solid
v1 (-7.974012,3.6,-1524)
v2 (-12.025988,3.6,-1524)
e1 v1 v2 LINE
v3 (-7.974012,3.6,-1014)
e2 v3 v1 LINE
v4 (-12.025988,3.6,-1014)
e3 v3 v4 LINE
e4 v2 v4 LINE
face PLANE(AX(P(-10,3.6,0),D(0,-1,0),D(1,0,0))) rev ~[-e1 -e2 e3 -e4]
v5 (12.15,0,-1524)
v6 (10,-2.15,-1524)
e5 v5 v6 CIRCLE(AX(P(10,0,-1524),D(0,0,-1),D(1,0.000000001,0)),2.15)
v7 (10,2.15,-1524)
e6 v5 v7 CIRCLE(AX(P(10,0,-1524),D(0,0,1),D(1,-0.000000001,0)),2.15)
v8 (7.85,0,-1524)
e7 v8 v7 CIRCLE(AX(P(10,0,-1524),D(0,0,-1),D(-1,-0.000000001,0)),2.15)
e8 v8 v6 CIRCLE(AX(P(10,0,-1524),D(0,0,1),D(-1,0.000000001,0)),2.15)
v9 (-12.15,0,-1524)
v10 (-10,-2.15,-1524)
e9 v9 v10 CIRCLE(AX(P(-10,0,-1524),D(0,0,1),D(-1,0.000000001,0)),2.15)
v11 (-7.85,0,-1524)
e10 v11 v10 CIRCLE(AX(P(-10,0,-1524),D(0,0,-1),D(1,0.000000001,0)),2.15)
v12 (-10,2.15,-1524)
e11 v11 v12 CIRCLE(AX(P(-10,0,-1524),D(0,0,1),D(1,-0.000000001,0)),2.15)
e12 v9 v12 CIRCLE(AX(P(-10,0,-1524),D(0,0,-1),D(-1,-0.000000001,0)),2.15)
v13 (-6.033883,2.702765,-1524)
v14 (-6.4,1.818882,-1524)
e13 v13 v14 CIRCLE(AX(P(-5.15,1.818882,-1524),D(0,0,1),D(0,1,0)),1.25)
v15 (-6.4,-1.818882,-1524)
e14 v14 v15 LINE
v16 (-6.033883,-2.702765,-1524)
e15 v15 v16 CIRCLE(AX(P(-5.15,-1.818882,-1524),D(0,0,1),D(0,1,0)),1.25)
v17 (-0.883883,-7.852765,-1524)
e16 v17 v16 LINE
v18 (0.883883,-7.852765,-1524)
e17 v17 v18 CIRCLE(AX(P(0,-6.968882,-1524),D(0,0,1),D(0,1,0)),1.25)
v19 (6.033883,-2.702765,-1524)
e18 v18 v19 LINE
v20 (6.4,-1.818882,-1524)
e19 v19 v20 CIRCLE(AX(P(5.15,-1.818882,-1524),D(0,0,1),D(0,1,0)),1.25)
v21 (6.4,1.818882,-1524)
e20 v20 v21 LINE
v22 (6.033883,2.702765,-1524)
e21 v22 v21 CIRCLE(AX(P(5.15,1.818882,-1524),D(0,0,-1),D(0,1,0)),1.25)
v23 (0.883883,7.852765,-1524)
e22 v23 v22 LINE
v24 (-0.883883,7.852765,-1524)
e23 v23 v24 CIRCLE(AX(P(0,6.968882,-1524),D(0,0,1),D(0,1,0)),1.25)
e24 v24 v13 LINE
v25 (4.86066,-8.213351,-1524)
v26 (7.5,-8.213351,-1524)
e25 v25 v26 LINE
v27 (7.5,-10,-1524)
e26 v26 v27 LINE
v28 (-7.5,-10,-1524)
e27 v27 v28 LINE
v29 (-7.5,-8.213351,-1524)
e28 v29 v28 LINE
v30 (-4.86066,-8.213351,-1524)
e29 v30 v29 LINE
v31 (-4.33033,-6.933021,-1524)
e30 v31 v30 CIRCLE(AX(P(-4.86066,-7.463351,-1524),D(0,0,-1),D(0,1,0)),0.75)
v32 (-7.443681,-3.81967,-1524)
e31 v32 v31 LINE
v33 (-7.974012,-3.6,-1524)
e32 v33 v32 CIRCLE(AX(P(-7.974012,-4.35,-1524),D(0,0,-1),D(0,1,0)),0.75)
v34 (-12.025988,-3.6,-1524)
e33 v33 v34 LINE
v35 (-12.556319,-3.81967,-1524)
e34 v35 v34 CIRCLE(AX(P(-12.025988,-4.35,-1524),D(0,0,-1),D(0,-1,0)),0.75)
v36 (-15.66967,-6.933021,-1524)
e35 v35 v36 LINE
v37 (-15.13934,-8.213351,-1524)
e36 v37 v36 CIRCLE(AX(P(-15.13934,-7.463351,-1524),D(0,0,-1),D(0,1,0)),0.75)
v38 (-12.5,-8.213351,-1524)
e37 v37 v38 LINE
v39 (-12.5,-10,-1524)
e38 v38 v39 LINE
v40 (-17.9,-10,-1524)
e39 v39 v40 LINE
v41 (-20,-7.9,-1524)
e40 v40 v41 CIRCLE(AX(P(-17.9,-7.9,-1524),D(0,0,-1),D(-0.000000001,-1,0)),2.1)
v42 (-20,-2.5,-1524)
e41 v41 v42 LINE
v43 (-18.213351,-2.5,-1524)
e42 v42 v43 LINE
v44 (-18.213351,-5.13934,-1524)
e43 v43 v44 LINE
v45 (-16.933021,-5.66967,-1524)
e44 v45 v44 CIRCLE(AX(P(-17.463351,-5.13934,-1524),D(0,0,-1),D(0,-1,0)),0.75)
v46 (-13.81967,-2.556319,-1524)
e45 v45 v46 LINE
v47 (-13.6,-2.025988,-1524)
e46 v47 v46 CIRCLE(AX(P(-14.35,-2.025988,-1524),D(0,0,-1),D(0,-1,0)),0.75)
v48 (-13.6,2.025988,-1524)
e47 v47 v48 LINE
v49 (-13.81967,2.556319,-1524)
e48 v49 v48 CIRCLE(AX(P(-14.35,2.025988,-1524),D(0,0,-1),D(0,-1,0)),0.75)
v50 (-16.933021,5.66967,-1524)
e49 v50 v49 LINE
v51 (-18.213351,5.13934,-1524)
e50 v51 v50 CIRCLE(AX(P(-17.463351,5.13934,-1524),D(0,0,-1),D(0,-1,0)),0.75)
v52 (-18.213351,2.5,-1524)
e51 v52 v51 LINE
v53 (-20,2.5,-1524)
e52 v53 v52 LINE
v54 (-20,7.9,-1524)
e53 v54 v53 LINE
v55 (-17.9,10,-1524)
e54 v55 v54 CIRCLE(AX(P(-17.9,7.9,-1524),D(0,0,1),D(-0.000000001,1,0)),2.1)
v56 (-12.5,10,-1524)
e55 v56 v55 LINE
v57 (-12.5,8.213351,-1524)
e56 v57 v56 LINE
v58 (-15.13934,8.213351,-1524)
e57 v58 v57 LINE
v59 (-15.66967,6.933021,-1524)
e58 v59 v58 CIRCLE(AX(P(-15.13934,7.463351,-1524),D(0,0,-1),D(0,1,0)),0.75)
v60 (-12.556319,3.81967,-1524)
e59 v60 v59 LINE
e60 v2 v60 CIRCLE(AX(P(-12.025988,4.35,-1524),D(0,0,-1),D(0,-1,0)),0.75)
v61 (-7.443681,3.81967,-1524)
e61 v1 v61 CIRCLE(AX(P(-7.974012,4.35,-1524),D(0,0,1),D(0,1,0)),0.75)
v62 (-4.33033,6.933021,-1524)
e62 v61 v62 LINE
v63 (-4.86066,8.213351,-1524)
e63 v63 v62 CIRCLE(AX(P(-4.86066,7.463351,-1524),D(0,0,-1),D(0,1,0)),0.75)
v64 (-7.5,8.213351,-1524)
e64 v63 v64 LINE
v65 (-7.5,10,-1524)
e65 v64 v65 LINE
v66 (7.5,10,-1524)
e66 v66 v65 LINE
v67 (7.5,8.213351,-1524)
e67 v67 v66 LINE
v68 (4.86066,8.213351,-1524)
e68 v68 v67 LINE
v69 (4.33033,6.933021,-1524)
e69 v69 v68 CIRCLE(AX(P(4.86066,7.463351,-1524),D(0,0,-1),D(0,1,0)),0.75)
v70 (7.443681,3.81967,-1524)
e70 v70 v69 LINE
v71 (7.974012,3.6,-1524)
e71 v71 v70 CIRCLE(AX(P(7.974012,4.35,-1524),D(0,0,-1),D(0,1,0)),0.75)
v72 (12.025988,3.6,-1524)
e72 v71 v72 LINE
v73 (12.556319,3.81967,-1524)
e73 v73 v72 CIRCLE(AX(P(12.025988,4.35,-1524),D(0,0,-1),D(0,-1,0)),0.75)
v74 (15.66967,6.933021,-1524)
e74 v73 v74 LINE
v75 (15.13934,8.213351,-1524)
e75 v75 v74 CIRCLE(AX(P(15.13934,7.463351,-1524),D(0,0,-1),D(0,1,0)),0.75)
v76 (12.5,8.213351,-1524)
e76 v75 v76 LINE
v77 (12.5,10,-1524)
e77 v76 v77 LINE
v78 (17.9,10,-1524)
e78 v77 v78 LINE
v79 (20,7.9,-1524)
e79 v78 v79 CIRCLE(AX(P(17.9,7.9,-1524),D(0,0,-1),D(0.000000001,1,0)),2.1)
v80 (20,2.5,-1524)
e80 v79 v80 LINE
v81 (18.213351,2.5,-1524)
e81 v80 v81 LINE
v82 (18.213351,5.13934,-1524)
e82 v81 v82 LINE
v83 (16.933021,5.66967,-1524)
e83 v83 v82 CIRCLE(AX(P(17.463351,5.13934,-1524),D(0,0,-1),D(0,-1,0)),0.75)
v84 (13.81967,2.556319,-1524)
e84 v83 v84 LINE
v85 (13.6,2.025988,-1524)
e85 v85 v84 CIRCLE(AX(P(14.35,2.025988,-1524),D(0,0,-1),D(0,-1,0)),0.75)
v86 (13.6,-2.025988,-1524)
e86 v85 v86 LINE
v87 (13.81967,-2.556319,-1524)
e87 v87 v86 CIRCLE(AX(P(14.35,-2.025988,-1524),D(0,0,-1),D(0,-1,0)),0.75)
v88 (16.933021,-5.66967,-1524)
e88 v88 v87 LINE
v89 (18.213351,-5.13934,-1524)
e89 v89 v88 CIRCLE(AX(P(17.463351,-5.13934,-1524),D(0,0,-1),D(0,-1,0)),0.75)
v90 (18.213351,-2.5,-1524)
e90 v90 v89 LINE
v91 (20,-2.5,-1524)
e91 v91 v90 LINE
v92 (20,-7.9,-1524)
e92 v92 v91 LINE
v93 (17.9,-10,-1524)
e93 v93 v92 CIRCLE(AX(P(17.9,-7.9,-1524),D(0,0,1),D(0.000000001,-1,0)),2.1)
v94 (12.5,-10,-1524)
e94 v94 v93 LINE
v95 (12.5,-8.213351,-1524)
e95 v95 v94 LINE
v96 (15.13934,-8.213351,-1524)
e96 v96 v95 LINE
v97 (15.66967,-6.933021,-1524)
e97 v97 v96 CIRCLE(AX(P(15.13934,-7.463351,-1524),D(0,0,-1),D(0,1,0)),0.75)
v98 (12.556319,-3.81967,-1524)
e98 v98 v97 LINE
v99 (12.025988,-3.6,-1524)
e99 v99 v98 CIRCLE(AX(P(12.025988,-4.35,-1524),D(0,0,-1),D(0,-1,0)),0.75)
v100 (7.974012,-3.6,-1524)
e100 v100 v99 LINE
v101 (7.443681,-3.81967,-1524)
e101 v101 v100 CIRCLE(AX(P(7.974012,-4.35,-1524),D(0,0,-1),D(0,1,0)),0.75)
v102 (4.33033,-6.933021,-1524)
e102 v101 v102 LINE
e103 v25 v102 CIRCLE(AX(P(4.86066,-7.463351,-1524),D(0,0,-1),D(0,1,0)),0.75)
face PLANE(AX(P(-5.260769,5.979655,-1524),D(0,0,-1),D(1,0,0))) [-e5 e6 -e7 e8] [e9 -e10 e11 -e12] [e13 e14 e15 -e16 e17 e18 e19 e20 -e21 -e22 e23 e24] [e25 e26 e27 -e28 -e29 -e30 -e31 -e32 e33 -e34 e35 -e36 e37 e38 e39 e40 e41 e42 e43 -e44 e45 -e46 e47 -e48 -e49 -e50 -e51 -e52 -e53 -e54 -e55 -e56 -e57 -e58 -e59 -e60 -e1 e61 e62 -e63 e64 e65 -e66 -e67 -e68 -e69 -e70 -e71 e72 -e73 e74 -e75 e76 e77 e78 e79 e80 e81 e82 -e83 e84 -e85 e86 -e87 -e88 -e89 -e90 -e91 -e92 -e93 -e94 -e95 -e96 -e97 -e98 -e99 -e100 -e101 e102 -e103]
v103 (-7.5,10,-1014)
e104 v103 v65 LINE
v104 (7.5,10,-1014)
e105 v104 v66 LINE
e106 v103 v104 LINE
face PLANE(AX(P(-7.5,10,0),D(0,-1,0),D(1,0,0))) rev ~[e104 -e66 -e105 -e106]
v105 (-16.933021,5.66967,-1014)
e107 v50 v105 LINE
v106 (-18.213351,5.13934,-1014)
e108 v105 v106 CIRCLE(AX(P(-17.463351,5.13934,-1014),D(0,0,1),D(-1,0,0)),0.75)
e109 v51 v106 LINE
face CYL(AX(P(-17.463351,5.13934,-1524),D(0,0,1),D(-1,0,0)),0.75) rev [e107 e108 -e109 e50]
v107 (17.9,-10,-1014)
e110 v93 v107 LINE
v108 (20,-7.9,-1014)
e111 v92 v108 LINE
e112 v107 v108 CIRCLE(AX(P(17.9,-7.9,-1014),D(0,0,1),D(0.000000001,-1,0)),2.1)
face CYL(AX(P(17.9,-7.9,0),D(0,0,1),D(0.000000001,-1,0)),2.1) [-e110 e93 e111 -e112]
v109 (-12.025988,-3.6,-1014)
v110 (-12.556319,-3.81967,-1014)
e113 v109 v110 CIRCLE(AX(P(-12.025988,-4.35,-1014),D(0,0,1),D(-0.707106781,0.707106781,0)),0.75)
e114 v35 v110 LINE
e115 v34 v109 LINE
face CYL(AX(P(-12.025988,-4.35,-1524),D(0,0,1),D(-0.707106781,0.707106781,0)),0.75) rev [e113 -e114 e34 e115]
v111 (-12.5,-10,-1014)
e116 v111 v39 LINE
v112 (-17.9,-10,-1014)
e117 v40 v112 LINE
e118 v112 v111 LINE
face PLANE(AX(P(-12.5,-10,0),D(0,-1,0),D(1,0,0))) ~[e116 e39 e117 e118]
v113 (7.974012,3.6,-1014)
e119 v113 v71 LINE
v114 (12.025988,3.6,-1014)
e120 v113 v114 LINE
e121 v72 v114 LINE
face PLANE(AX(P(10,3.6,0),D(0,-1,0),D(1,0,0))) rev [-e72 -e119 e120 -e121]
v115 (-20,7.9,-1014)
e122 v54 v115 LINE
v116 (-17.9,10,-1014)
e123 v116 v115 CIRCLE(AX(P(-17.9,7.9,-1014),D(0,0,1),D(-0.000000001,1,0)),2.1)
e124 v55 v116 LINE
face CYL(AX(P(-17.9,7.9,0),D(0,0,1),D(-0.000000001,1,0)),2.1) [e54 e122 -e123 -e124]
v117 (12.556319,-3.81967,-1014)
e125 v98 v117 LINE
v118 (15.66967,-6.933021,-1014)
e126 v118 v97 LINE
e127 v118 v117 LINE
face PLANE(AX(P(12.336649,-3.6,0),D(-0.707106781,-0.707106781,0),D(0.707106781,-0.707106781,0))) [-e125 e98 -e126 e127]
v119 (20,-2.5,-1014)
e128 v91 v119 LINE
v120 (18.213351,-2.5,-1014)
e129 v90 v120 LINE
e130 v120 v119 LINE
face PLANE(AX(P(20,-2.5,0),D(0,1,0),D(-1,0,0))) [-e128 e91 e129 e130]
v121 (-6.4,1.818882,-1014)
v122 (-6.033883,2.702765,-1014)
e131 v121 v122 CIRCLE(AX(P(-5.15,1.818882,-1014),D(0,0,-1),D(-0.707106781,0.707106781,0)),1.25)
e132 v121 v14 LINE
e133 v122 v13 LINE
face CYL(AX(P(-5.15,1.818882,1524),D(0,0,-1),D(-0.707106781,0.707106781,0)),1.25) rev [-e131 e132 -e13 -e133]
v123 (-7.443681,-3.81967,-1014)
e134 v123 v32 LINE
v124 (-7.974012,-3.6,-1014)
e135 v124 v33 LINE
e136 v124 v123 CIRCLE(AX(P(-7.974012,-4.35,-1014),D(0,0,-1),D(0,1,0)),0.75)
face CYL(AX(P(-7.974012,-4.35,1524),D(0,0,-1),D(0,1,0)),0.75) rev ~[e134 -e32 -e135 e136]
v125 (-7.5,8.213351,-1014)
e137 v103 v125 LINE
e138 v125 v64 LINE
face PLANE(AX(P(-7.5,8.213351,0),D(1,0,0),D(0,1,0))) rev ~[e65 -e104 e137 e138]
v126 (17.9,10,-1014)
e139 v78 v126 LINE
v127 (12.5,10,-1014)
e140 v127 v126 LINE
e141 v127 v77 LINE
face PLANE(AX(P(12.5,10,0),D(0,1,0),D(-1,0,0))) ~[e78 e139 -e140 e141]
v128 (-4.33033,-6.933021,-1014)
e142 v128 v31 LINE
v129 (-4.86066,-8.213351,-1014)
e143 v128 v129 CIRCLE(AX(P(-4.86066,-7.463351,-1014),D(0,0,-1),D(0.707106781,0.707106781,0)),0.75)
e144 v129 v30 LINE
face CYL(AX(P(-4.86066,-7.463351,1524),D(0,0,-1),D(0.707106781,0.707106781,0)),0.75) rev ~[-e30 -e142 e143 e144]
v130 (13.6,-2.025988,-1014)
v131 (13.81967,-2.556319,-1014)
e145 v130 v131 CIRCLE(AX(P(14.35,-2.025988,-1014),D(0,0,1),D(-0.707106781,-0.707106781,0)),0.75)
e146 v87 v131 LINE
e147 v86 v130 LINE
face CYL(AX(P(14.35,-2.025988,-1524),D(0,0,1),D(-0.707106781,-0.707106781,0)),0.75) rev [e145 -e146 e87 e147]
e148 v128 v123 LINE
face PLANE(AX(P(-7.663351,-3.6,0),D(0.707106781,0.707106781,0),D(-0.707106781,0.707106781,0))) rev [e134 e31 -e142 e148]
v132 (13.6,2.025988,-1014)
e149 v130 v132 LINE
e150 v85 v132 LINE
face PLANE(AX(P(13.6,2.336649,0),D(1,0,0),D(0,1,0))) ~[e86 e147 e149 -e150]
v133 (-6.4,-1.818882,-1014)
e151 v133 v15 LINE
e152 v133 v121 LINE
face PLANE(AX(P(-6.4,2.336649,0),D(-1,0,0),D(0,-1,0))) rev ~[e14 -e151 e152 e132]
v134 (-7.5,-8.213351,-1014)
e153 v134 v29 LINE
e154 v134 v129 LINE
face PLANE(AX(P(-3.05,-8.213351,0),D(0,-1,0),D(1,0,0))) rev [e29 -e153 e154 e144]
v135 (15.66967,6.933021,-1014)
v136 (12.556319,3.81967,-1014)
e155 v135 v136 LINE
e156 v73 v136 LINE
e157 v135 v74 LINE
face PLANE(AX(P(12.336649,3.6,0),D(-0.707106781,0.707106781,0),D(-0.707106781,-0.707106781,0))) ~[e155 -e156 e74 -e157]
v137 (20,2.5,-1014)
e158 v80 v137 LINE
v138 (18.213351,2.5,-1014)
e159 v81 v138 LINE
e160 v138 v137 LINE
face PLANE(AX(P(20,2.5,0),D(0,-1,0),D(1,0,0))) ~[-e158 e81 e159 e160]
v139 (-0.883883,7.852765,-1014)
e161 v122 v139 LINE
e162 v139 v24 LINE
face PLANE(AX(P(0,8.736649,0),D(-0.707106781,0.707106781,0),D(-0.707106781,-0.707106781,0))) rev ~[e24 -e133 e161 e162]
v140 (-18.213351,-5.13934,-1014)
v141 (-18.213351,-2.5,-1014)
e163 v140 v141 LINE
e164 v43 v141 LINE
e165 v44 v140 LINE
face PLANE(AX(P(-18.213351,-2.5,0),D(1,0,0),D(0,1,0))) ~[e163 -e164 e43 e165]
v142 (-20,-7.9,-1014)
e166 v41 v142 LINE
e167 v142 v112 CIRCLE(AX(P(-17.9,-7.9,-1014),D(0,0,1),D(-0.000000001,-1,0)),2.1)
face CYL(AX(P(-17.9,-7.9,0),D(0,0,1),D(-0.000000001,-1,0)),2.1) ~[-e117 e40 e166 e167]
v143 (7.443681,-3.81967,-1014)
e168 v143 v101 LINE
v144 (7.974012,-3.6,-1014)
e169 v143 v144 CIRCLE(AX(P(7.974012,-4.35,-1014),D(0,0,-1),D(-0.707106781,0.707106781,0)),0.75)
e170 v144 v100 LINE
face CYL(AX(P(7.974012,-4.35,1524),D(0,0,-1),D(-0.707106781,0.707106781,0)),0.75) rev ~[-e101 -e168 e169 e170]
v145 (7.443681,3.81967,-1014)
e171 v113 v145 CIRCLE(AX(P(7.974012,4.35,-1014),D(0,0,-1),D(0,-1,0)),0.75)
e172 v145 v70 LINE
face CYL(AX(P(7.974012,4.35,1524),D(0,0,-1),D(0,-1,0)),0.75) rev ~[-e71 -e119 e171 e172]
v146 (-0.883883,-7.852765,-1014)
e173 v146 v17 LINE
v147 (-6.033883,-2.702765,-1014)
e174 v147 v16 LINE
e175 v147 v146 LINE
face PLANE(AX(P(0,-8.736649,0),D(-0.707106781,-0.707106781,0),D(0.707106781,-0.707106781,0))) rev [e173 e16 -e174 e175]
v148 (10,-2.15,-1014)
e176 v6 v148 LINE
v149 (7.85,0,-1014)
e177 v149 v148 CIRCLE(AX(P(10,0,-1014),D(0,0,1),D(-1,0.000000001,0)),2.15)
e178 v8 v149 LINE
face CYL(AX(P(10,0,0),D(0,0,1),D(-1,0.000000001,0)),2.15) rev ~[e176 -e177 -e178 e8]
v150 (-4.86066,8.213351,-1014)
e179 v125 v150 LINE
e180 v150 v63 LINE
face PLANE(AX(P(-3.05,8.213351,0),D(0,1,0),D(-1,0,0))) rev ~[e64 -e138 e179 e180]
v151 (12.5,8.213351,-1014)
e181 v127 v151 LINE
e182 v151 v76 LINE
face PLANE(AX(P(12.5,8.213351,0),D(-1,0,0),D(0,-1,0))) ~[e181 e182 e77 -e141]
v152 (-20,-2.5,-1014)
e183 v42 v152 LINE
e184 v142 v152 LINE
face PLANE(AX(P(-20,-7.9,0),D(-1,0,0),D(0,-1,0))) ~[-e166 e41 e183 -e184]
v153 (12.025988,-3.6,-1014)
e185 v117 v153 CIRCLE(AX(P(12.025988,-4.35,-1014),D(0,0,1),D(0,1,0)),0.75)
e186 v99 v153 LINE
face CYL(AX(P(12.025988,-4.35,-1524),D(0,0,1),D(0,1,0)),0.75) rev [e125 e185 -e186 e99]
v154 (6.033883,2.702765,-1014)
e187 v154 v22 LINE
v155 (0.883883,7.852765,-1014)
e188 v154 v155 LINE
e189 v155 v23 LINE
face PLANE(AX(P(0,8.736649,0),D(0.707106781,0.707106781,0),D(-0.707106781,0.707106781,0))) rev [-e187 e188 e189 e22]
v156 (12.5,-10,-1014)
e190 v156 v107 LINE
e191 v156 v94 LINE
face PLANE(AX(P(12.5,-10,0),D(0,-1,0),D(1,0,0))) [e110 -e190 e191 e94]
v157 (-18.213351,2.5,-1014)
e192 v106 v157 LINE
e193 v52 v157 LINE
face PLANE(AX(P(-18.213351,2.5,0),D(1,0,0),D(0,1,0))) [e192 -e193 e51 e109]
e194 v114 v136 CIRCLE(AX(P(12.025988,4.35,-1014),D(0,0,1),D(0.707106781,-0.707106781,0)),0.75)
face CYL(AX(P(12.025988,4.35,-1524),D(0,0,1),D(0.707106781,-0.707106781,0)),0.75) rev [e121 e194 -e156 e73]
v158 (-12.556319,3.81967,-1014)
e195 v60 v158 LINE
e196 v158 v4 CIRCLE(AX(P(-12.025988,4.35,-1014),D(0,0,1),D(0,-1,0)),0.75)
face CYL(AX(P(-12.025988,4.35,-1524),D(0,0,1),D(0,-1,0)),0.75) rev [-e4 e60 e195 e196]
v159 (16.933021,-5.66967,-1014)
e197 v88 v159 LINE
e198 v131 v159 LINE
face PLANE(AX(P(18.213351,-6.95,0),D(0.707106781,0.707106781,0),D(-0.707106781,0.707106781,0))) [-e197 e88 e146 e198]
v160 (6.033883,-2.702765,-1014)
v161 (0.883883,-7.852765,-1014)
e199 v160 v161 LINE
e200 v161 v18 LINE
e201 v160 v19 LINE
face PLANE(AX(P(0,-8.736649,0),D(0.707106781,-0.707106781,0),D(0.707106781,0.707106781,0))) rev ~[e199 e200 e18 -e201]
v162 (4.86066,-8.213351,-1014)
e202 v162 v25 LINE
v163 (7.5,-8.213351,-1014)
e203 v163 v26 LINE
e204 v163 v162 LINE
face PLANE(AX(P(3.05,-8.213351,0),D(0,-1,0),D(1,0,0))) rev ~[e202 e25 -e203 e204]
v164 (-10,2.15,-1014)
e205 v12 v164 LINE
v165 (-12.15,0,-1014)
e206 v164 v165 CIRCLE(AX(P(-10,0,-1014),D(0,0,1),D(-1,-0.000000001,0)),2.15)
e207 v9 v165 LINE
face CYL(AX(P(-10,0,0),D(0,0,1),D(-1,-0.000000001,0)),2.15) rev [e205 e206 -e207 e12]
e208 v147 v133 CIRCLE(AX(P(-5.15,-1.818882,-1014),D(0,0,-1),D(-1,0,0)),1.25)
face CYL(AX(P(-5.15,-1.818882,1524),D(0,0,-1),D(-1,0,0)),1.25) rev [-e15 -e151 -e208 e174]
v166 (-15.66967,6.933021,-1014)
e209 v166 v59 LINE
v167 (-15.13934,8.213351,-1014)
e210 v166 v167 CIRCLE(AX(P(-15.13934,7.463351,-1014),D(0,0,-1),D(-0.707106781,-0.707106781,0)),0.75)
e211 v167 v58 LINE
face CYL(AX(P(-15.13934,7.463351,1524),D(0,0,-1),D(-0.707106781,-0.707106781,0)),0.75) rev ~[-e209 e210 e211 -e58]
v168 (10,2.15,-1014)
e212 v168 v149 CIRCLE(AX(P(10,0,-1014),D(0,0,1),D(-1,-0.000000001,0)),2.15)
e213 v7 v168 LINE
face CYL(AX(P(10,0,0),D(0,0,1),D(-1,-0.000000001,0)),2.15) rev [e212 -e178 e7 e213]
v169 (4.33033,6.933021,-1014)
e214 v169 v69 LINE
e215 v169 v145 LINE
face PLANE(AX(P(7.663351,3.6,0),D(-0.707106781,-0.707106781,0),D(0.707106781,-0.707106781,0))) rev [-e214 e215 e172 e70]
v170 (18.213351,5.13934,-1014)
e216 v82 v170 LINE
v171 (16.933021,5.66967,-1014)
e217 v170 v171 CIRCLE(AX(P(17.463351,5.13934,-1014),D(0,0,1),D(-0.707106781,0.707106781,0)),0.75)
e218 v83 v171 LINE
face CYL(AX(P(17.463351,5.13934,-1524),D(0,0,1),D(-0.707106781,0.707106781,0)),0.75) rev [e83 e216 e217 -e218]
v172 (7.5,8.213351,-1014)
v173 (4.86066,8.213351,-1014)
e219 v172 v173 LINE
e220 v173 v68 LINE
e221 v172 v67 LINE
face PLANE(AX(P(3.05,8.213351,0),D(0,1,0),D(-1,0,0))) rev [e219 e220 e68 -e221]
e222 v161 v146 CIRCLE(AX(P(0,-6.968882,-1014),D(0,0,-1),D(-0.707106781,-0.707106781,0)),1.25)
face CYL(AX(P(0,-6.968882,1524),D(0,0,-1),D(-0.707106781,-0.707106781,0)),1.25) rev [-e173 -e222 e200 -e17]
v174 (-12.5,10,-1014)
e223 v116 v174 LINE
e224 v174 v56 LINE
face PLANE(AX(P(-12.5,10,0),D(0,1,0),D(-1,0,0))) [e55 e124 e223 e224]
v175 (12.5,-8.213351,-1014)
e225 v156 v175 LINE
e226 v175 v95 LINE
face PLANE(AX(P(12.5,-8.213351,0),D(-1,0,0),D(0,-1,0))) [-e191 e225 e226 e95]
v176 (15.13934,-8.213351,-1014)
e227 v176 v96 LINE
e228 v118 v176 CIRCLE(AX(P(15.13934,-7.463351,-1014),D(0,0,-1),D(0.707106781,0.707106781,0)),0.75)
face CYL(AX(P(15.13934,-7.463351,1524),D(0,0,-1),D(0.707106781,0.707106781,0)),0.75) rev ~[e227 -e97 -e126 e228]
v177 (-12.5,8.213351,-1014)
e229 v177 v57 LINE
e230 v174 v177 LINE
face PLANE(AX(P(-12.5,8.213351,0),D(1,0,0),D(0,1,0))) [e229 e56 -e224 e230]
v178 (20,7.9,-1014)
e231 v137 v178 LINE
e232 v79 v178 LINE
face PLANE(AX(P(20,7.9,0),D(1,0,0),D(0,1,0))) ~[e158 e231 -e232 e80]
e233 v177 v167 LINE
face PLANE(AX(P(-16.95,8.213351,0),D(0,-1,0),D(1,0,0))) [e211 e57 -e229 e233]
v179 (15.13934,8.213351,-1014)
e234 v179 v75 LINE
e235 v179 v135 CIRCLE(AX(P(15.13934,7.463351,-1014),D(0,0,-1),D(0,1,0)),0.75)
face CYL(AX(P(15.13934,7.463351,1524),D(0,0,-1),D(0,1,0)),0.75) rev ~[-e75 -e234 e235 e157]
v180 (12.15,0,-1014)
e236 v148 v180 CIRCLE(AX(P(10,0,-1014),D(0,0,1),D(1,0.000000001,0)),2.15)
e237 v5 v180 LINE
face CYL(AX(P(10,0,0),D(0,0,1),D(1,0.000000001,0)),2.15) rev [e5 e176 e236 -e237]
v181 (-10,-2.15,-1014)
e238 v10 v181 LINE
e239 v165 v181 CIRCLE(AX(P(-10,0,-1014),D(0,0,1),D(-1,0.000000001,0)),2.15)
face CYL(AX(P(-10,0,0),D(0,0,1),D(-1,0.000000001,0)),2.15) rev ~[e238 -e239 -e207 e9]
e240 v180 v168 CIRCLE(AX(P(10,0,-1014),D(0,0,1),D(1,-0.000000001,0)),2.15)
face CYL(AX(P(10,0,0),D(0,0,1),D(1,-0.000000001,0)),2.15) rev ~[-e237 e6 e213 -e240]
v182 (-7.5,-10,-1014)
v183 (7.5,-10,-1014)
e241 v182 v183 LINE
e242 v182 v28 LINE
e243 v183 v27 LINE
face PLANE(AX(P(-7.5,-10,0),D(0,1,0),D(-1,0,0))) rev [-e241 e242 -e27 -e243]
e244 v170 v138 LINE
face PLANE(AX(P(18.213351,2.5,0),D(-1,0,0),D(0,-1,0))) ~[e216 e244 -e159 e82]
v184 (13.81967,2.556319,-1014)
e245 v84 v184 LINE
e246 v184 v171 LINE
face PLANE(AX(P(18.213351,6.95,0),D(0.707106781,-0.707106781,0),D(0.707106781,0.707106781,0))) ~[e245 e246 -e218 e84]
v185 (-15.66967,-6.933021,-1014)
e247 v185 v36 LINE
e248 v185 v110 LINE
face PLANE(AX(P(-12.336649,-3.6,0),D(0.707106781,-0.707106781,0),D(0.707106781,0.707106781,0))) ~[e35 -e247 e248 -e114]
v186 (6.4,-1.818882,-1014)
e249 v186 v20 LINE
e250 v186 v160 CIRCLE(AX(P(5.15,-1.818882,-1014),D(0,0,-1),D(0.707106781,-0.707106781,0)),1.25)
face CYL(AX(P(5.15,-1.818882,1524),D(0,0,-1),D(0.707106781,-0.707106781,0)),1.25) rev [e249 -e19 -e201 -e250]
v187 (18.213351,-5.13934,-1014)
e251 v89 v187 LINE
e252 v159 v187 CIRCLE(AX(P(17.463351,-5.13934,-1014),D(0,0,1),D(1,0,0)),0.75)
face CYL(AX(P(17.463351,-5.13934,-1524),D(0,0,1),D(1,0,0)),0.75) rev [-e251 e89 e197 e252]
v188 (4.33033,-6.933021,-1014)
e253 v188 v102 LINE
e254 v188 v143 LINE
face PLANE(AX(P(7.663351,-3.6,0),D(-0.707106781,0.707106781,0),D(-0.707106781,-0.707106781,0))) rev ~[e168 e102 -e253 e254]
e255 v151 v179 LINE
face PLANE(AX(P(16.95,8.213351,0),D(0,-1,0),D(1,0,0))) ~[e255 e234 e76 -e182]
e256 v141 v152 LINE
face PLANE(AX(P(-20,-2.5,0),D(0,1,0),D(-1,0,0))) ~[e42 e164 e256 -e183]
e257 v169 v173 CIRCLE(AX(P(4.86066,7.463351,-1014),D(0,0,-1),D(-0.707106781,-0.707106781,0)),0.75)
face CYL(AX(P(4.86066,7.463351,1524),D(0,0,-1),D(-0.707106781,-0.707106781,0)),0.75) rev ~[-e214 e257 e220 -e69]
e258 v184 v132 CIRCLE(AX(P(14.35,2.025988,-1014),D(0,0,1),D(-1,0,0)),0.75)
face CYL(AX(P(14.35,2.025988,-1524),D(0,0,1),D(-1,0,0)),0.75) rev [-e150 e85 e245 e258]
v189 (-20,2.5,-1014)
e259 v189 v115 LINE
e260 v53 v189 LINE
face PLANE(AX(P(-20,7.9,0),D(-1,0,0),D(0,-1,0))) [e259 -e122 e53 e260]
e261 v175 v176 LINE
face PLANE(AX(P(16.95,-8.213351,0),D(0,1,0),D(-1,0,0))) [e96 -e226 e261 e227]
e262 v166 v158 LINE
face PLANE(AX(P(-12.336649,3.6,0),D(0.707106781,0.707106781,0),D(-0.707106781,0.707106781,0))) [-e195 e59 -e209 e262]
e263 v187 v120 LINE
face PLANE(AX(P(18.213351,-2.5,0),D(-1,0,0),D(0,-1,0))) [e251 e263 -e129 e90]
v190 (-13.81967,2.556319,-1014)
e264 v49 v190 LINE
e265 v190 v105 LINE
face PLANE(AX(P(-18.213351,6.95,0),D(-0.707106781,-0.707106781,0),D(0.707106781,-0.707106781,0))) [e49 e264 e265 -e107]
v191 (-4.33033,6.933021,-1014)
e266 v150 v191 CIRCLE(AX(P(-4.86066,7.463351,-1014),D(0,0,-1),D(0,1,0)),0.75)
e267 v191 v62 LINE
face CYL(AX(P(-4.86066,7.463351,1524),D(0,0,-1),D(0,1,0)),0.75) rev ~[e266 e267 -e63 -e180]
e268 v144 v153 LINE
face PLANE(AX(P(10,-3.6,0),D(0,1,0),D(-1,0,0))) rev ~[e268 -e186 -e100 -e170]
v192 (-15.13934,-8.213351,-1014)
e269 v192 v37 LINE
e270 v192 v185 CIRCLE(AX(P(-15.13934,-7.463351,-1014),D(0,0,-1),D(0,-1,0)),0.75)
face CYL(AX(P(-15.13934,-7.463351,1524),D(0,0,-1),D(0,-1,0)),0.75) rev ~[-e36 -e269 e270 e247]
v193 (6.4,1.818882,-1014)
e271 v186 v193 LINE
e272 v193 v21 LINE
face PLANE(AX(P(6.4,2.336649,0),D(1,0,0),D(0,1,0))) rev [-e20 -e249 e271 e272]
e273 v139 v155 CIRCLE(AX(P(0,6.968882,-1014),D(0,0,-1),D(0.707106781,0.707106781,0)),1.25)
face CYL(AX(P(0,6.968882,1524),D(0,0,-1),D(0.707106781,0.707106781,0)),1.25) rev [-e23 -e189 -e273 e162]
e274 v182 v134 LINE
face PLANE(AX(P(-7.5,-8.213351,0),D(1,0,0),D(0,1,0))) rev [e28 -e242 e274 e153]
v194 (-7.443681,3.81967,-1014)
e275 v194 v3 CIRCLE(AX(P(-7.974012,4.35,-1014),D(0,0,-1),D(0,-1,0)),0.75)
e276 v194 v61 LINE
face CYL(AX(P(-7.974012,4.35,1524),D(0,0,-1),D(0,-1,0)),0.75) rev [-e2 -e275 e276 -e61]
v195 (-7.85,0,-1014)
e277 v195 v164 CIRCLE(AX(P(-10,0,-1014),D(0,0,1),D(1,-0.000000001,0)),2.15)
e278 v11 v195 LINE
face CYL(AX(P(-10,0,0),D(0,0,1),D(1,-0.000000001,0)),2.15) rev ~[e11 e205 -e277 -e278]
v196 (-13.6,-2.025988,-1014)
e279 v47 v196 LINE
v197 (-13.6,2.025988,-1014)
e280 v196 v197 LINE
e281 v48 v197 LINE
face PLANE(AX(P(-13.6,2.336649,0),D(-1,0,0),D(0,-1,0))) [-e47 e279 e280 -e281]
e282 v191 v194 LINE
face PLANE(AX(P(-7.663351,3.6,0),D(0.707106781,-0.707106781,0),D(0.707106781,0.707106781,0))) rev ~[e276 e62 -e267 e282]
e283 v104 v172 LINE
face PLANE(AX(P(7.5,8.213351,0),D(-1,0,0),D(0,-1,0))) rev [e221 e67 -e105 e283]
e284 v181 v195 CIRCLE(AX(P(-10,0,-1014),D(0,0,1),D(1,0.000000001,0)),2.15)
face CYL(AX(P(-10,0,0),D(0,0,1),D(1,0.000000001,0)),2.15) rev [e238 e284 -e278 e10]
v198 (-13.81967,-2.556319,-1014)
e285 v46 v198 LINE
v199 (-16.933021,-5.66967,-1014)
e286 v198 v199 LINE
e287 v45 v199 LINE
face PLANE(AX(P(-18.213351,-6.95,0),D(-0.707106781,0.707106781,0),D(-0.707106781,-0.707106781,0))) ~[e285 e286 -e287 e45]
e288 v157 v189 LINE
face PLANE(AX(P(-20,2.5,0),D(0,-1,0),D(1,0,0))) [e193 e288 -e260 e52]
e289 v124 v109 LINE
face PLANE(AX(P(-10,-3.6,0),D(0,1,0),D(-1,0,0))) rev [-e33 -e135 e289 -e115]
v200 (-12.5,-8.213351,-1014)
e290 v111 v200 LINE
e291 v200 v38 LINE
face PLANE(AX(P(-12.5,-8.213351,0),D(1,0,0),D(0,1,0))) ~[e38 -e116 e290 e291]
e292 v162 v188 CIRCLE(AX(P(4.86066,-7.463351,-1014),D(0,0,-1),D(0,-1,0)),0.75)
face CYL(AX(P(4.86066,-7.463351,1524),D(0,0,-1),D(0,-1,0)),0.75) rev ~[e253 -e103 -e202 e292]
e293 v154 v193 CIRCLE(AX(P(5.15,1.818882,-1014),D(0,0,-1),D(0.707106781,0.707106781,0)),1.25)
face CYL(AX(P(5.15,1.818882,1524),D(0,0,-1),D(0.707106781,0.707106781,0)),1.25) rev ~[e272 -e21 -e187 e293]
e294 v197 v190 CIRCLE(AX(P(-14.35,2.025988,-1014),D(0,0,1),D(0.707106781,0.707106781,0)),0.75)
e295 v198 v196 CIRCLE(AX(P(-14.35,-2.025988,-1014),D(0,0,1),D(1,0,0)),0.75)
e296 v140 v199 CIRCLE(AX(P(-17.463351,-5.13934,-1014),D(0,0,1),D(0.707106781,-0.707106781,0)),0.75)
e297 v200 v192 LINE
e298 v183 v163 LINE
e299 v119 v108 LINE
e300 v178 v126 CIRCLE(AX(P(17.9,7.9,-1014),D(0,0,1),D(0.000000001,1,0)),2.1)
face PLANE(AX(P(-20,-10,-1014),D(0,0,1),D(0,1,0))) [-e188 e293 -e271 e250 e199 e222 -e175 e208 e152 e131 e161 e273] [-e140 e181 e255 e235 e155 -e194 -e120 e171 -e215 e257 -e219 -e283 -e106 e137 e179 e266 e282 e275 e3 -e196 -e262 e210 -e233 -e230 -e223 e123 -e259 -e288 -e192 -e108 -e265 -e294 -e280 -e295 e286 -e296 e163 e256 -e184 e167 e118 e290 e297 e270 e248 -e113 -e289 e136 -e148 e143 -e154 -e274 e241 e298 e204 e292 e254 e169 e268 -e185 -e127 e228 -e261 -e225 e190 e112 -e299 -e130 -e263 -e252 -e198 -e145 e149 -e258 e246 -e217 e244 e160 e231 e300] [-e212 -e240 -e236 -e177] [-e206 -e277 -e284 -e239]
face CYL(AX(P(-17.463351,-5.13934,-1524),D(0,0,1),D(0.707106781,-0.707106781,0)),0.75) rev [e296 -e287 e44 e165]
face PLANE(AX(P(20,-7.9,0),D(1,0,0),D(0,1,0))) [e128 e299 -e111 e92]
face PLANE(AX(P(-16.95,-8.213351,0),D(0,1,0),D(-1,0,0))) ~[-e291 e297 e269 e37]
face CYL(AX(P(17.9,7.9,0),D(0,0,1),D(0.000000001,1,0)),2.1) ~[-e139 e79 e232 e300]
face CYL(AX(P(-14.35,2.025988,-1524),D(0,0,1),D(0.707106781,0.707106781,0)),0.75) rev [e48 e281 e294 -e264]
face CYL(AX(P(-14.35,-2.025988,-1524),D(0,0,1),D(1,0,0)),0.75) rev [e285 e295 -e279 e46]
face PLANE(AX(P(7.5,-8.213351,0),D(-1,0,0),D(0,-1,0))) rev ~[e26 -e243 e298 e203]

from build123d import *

# Parameters (mm, degrees)
BOSS_EXTRUDE1_DEPTH = 1524
BOSS_EXTRUDE2_DEPTH = 1524
FILLET1_R           = 0.75
FILLET2_R           = 1.25
SKETCH5_W           = 2538
SKETCH5_H           = 20
CUT_EXTRUDE1_DEPTH  = 1525.55764076


with BuildPart() as part:
    # Sketch3 → Boss-Extrude1 (new, symmetric)
    with BuildSketch(Plane.XY):
        with BuildLine():
            Line((12.5, -10), (17.9, -10))
            ThreePointArc((17.9, -10), (19.38492424, -9.38492424), (20, -7.9))
            Line((20, -7.9), (20, -2.5))
            Line((20, -2.5), (18.213351365, -2.5))
            Line((18.213351365, -2.5), (18.213351365, -6.95))
            Line((18.213351365, -6.95), (13.6, -2.336648635))
            Line((13.6, -2.336648635), (13.6, 0))
            Line((13.6, 0), (12.15, 0))
            ThreePointArc((12.15, 0), (11.52027958, -1.52027958), (10, -2.15))
            Line((10, -2.15), (10, -3.6))
            Line((10, -3.6), (12.336648635, -3.6))
            Line((12.336648635, -3.6), (16.95, -8.213351365))
            Line((16.95, -8.213351365), (12.5, -8.213351365))
            Line((12.5, -8.213351365), (12.5, -10))
        make_face()
    extrude(amount=BOSS_EXTRUDE1_DEPTH, both=True)

    # Sketch4 → Boss-Extrude2 (add, symmetric)
    with BuildSketch(Plane.XY):
        with BuildLine():
            Line((10, -3.6), (7.663351365, -3.6))
            Line((7.663351365, -3.6), (3.05, -8.213351365))
            Line((3.05, -8.213351365), (7.5, -8.213351365))
            Line((7.5, -8.213351365), (7.5, -10))
            Line((7.5, -10), (0, -10))
            Line((0, -10), (0, -8.736648635))
            Line((0, -8.736648635), (6.4, -2.336648635))
            Line((6.4, -2.336648635), (6.4, 0))
            Line((6.4, 0), (7.85, 0))
            ThreePointArc((7.85, 0), (8.47972042, -1.52027958), (10, -2.15))
            Line((10, -2.15), (10, -3.6))
        make_face()
    extrude(amount=BOSS_EXTRUDE2_DEPTH, both=True)

    # Mirror1: part across plane


with BuildPart() as part_1:
    add(part.part)
    add(part.part.mirror(Plane(origin=(0, 0, 0), x_dir=(0, 0, 1), z_dir=(1, 0, 0))))

    # Mirror2: part across plane


with BuildPart() as part_2:
    add(part_1.part)
    add(part_1.part.mirror(Plane.ZX))

    # Fillet1
    fillet1_edges = [part_2.edges().sort_by_distance(p)[0] for p in [
        (18.213351365, 6.95, 0),
        (13.6, 2.336648635, 0),
        (12.336648635, 3.6, 0),
        (16.95, 8.213351365, 0),
        (3.05, 8.213351365, 0),
        (7.663351365, 3.6, 0),
        (-18.213351365, 6.95, 0),
        (-13.6, 2.336648635, 0),
        (-7.663351365, 3.6, 0),
        (-12.336648635, 3.6, 0),
        (-16.95, 8.213351365, 0),
        (-3.05, 8.213351365, 0),
        (16.95, -8.213351365, 0),
        (12.336648635, -3.6, 0),
        (13.6, -2.336648635, 0),
        (18.213351365, -6.95, 0),
        (3.05, -8.213351365, 0),
        (7.663351365, -3.6, 0),
        (-18.213351365, -6.95, 0),
        (-13.6, -2.336648635, 0),
        (-12.336648635, -3.6, 0),
        (-16.95, -8.213351365, 0),
        (-3.05, -8.213351365, 0),
        (-7.663351365, -3.6, 0),
    ]]
    fillet(fillet1_edges, radius=FILLET1_R)

    # Fillet2
    fillet2_edges = [part_2.edges().sort_by_distance(p)[0] for p in [
        (6.4, 2.336648635, 0),
        (0, 8.736648635, 0),
        (-6.4, 2.336648635, 0),
        (6.4, -2.336648635, 0),
        (-6.4, -2.336648635, 0),
        (0, -8.736648635, 0),
    ]]
    fillet(fillet2_edges, radius=FILLET2_R)

    # Sketch5 → Cut-Extrude1 (cut, through all)
    with BuildSketch(Plane.ZY.offset(20)):
        with Locations((255, 0)):
            Rectangle(SKETCH5_W, SKETCH5_H)
    extrude(amount=-CUT_EXTRUDE1_DEPTH, mode=Mode.SUBTRACT)


solid = part_2.part
